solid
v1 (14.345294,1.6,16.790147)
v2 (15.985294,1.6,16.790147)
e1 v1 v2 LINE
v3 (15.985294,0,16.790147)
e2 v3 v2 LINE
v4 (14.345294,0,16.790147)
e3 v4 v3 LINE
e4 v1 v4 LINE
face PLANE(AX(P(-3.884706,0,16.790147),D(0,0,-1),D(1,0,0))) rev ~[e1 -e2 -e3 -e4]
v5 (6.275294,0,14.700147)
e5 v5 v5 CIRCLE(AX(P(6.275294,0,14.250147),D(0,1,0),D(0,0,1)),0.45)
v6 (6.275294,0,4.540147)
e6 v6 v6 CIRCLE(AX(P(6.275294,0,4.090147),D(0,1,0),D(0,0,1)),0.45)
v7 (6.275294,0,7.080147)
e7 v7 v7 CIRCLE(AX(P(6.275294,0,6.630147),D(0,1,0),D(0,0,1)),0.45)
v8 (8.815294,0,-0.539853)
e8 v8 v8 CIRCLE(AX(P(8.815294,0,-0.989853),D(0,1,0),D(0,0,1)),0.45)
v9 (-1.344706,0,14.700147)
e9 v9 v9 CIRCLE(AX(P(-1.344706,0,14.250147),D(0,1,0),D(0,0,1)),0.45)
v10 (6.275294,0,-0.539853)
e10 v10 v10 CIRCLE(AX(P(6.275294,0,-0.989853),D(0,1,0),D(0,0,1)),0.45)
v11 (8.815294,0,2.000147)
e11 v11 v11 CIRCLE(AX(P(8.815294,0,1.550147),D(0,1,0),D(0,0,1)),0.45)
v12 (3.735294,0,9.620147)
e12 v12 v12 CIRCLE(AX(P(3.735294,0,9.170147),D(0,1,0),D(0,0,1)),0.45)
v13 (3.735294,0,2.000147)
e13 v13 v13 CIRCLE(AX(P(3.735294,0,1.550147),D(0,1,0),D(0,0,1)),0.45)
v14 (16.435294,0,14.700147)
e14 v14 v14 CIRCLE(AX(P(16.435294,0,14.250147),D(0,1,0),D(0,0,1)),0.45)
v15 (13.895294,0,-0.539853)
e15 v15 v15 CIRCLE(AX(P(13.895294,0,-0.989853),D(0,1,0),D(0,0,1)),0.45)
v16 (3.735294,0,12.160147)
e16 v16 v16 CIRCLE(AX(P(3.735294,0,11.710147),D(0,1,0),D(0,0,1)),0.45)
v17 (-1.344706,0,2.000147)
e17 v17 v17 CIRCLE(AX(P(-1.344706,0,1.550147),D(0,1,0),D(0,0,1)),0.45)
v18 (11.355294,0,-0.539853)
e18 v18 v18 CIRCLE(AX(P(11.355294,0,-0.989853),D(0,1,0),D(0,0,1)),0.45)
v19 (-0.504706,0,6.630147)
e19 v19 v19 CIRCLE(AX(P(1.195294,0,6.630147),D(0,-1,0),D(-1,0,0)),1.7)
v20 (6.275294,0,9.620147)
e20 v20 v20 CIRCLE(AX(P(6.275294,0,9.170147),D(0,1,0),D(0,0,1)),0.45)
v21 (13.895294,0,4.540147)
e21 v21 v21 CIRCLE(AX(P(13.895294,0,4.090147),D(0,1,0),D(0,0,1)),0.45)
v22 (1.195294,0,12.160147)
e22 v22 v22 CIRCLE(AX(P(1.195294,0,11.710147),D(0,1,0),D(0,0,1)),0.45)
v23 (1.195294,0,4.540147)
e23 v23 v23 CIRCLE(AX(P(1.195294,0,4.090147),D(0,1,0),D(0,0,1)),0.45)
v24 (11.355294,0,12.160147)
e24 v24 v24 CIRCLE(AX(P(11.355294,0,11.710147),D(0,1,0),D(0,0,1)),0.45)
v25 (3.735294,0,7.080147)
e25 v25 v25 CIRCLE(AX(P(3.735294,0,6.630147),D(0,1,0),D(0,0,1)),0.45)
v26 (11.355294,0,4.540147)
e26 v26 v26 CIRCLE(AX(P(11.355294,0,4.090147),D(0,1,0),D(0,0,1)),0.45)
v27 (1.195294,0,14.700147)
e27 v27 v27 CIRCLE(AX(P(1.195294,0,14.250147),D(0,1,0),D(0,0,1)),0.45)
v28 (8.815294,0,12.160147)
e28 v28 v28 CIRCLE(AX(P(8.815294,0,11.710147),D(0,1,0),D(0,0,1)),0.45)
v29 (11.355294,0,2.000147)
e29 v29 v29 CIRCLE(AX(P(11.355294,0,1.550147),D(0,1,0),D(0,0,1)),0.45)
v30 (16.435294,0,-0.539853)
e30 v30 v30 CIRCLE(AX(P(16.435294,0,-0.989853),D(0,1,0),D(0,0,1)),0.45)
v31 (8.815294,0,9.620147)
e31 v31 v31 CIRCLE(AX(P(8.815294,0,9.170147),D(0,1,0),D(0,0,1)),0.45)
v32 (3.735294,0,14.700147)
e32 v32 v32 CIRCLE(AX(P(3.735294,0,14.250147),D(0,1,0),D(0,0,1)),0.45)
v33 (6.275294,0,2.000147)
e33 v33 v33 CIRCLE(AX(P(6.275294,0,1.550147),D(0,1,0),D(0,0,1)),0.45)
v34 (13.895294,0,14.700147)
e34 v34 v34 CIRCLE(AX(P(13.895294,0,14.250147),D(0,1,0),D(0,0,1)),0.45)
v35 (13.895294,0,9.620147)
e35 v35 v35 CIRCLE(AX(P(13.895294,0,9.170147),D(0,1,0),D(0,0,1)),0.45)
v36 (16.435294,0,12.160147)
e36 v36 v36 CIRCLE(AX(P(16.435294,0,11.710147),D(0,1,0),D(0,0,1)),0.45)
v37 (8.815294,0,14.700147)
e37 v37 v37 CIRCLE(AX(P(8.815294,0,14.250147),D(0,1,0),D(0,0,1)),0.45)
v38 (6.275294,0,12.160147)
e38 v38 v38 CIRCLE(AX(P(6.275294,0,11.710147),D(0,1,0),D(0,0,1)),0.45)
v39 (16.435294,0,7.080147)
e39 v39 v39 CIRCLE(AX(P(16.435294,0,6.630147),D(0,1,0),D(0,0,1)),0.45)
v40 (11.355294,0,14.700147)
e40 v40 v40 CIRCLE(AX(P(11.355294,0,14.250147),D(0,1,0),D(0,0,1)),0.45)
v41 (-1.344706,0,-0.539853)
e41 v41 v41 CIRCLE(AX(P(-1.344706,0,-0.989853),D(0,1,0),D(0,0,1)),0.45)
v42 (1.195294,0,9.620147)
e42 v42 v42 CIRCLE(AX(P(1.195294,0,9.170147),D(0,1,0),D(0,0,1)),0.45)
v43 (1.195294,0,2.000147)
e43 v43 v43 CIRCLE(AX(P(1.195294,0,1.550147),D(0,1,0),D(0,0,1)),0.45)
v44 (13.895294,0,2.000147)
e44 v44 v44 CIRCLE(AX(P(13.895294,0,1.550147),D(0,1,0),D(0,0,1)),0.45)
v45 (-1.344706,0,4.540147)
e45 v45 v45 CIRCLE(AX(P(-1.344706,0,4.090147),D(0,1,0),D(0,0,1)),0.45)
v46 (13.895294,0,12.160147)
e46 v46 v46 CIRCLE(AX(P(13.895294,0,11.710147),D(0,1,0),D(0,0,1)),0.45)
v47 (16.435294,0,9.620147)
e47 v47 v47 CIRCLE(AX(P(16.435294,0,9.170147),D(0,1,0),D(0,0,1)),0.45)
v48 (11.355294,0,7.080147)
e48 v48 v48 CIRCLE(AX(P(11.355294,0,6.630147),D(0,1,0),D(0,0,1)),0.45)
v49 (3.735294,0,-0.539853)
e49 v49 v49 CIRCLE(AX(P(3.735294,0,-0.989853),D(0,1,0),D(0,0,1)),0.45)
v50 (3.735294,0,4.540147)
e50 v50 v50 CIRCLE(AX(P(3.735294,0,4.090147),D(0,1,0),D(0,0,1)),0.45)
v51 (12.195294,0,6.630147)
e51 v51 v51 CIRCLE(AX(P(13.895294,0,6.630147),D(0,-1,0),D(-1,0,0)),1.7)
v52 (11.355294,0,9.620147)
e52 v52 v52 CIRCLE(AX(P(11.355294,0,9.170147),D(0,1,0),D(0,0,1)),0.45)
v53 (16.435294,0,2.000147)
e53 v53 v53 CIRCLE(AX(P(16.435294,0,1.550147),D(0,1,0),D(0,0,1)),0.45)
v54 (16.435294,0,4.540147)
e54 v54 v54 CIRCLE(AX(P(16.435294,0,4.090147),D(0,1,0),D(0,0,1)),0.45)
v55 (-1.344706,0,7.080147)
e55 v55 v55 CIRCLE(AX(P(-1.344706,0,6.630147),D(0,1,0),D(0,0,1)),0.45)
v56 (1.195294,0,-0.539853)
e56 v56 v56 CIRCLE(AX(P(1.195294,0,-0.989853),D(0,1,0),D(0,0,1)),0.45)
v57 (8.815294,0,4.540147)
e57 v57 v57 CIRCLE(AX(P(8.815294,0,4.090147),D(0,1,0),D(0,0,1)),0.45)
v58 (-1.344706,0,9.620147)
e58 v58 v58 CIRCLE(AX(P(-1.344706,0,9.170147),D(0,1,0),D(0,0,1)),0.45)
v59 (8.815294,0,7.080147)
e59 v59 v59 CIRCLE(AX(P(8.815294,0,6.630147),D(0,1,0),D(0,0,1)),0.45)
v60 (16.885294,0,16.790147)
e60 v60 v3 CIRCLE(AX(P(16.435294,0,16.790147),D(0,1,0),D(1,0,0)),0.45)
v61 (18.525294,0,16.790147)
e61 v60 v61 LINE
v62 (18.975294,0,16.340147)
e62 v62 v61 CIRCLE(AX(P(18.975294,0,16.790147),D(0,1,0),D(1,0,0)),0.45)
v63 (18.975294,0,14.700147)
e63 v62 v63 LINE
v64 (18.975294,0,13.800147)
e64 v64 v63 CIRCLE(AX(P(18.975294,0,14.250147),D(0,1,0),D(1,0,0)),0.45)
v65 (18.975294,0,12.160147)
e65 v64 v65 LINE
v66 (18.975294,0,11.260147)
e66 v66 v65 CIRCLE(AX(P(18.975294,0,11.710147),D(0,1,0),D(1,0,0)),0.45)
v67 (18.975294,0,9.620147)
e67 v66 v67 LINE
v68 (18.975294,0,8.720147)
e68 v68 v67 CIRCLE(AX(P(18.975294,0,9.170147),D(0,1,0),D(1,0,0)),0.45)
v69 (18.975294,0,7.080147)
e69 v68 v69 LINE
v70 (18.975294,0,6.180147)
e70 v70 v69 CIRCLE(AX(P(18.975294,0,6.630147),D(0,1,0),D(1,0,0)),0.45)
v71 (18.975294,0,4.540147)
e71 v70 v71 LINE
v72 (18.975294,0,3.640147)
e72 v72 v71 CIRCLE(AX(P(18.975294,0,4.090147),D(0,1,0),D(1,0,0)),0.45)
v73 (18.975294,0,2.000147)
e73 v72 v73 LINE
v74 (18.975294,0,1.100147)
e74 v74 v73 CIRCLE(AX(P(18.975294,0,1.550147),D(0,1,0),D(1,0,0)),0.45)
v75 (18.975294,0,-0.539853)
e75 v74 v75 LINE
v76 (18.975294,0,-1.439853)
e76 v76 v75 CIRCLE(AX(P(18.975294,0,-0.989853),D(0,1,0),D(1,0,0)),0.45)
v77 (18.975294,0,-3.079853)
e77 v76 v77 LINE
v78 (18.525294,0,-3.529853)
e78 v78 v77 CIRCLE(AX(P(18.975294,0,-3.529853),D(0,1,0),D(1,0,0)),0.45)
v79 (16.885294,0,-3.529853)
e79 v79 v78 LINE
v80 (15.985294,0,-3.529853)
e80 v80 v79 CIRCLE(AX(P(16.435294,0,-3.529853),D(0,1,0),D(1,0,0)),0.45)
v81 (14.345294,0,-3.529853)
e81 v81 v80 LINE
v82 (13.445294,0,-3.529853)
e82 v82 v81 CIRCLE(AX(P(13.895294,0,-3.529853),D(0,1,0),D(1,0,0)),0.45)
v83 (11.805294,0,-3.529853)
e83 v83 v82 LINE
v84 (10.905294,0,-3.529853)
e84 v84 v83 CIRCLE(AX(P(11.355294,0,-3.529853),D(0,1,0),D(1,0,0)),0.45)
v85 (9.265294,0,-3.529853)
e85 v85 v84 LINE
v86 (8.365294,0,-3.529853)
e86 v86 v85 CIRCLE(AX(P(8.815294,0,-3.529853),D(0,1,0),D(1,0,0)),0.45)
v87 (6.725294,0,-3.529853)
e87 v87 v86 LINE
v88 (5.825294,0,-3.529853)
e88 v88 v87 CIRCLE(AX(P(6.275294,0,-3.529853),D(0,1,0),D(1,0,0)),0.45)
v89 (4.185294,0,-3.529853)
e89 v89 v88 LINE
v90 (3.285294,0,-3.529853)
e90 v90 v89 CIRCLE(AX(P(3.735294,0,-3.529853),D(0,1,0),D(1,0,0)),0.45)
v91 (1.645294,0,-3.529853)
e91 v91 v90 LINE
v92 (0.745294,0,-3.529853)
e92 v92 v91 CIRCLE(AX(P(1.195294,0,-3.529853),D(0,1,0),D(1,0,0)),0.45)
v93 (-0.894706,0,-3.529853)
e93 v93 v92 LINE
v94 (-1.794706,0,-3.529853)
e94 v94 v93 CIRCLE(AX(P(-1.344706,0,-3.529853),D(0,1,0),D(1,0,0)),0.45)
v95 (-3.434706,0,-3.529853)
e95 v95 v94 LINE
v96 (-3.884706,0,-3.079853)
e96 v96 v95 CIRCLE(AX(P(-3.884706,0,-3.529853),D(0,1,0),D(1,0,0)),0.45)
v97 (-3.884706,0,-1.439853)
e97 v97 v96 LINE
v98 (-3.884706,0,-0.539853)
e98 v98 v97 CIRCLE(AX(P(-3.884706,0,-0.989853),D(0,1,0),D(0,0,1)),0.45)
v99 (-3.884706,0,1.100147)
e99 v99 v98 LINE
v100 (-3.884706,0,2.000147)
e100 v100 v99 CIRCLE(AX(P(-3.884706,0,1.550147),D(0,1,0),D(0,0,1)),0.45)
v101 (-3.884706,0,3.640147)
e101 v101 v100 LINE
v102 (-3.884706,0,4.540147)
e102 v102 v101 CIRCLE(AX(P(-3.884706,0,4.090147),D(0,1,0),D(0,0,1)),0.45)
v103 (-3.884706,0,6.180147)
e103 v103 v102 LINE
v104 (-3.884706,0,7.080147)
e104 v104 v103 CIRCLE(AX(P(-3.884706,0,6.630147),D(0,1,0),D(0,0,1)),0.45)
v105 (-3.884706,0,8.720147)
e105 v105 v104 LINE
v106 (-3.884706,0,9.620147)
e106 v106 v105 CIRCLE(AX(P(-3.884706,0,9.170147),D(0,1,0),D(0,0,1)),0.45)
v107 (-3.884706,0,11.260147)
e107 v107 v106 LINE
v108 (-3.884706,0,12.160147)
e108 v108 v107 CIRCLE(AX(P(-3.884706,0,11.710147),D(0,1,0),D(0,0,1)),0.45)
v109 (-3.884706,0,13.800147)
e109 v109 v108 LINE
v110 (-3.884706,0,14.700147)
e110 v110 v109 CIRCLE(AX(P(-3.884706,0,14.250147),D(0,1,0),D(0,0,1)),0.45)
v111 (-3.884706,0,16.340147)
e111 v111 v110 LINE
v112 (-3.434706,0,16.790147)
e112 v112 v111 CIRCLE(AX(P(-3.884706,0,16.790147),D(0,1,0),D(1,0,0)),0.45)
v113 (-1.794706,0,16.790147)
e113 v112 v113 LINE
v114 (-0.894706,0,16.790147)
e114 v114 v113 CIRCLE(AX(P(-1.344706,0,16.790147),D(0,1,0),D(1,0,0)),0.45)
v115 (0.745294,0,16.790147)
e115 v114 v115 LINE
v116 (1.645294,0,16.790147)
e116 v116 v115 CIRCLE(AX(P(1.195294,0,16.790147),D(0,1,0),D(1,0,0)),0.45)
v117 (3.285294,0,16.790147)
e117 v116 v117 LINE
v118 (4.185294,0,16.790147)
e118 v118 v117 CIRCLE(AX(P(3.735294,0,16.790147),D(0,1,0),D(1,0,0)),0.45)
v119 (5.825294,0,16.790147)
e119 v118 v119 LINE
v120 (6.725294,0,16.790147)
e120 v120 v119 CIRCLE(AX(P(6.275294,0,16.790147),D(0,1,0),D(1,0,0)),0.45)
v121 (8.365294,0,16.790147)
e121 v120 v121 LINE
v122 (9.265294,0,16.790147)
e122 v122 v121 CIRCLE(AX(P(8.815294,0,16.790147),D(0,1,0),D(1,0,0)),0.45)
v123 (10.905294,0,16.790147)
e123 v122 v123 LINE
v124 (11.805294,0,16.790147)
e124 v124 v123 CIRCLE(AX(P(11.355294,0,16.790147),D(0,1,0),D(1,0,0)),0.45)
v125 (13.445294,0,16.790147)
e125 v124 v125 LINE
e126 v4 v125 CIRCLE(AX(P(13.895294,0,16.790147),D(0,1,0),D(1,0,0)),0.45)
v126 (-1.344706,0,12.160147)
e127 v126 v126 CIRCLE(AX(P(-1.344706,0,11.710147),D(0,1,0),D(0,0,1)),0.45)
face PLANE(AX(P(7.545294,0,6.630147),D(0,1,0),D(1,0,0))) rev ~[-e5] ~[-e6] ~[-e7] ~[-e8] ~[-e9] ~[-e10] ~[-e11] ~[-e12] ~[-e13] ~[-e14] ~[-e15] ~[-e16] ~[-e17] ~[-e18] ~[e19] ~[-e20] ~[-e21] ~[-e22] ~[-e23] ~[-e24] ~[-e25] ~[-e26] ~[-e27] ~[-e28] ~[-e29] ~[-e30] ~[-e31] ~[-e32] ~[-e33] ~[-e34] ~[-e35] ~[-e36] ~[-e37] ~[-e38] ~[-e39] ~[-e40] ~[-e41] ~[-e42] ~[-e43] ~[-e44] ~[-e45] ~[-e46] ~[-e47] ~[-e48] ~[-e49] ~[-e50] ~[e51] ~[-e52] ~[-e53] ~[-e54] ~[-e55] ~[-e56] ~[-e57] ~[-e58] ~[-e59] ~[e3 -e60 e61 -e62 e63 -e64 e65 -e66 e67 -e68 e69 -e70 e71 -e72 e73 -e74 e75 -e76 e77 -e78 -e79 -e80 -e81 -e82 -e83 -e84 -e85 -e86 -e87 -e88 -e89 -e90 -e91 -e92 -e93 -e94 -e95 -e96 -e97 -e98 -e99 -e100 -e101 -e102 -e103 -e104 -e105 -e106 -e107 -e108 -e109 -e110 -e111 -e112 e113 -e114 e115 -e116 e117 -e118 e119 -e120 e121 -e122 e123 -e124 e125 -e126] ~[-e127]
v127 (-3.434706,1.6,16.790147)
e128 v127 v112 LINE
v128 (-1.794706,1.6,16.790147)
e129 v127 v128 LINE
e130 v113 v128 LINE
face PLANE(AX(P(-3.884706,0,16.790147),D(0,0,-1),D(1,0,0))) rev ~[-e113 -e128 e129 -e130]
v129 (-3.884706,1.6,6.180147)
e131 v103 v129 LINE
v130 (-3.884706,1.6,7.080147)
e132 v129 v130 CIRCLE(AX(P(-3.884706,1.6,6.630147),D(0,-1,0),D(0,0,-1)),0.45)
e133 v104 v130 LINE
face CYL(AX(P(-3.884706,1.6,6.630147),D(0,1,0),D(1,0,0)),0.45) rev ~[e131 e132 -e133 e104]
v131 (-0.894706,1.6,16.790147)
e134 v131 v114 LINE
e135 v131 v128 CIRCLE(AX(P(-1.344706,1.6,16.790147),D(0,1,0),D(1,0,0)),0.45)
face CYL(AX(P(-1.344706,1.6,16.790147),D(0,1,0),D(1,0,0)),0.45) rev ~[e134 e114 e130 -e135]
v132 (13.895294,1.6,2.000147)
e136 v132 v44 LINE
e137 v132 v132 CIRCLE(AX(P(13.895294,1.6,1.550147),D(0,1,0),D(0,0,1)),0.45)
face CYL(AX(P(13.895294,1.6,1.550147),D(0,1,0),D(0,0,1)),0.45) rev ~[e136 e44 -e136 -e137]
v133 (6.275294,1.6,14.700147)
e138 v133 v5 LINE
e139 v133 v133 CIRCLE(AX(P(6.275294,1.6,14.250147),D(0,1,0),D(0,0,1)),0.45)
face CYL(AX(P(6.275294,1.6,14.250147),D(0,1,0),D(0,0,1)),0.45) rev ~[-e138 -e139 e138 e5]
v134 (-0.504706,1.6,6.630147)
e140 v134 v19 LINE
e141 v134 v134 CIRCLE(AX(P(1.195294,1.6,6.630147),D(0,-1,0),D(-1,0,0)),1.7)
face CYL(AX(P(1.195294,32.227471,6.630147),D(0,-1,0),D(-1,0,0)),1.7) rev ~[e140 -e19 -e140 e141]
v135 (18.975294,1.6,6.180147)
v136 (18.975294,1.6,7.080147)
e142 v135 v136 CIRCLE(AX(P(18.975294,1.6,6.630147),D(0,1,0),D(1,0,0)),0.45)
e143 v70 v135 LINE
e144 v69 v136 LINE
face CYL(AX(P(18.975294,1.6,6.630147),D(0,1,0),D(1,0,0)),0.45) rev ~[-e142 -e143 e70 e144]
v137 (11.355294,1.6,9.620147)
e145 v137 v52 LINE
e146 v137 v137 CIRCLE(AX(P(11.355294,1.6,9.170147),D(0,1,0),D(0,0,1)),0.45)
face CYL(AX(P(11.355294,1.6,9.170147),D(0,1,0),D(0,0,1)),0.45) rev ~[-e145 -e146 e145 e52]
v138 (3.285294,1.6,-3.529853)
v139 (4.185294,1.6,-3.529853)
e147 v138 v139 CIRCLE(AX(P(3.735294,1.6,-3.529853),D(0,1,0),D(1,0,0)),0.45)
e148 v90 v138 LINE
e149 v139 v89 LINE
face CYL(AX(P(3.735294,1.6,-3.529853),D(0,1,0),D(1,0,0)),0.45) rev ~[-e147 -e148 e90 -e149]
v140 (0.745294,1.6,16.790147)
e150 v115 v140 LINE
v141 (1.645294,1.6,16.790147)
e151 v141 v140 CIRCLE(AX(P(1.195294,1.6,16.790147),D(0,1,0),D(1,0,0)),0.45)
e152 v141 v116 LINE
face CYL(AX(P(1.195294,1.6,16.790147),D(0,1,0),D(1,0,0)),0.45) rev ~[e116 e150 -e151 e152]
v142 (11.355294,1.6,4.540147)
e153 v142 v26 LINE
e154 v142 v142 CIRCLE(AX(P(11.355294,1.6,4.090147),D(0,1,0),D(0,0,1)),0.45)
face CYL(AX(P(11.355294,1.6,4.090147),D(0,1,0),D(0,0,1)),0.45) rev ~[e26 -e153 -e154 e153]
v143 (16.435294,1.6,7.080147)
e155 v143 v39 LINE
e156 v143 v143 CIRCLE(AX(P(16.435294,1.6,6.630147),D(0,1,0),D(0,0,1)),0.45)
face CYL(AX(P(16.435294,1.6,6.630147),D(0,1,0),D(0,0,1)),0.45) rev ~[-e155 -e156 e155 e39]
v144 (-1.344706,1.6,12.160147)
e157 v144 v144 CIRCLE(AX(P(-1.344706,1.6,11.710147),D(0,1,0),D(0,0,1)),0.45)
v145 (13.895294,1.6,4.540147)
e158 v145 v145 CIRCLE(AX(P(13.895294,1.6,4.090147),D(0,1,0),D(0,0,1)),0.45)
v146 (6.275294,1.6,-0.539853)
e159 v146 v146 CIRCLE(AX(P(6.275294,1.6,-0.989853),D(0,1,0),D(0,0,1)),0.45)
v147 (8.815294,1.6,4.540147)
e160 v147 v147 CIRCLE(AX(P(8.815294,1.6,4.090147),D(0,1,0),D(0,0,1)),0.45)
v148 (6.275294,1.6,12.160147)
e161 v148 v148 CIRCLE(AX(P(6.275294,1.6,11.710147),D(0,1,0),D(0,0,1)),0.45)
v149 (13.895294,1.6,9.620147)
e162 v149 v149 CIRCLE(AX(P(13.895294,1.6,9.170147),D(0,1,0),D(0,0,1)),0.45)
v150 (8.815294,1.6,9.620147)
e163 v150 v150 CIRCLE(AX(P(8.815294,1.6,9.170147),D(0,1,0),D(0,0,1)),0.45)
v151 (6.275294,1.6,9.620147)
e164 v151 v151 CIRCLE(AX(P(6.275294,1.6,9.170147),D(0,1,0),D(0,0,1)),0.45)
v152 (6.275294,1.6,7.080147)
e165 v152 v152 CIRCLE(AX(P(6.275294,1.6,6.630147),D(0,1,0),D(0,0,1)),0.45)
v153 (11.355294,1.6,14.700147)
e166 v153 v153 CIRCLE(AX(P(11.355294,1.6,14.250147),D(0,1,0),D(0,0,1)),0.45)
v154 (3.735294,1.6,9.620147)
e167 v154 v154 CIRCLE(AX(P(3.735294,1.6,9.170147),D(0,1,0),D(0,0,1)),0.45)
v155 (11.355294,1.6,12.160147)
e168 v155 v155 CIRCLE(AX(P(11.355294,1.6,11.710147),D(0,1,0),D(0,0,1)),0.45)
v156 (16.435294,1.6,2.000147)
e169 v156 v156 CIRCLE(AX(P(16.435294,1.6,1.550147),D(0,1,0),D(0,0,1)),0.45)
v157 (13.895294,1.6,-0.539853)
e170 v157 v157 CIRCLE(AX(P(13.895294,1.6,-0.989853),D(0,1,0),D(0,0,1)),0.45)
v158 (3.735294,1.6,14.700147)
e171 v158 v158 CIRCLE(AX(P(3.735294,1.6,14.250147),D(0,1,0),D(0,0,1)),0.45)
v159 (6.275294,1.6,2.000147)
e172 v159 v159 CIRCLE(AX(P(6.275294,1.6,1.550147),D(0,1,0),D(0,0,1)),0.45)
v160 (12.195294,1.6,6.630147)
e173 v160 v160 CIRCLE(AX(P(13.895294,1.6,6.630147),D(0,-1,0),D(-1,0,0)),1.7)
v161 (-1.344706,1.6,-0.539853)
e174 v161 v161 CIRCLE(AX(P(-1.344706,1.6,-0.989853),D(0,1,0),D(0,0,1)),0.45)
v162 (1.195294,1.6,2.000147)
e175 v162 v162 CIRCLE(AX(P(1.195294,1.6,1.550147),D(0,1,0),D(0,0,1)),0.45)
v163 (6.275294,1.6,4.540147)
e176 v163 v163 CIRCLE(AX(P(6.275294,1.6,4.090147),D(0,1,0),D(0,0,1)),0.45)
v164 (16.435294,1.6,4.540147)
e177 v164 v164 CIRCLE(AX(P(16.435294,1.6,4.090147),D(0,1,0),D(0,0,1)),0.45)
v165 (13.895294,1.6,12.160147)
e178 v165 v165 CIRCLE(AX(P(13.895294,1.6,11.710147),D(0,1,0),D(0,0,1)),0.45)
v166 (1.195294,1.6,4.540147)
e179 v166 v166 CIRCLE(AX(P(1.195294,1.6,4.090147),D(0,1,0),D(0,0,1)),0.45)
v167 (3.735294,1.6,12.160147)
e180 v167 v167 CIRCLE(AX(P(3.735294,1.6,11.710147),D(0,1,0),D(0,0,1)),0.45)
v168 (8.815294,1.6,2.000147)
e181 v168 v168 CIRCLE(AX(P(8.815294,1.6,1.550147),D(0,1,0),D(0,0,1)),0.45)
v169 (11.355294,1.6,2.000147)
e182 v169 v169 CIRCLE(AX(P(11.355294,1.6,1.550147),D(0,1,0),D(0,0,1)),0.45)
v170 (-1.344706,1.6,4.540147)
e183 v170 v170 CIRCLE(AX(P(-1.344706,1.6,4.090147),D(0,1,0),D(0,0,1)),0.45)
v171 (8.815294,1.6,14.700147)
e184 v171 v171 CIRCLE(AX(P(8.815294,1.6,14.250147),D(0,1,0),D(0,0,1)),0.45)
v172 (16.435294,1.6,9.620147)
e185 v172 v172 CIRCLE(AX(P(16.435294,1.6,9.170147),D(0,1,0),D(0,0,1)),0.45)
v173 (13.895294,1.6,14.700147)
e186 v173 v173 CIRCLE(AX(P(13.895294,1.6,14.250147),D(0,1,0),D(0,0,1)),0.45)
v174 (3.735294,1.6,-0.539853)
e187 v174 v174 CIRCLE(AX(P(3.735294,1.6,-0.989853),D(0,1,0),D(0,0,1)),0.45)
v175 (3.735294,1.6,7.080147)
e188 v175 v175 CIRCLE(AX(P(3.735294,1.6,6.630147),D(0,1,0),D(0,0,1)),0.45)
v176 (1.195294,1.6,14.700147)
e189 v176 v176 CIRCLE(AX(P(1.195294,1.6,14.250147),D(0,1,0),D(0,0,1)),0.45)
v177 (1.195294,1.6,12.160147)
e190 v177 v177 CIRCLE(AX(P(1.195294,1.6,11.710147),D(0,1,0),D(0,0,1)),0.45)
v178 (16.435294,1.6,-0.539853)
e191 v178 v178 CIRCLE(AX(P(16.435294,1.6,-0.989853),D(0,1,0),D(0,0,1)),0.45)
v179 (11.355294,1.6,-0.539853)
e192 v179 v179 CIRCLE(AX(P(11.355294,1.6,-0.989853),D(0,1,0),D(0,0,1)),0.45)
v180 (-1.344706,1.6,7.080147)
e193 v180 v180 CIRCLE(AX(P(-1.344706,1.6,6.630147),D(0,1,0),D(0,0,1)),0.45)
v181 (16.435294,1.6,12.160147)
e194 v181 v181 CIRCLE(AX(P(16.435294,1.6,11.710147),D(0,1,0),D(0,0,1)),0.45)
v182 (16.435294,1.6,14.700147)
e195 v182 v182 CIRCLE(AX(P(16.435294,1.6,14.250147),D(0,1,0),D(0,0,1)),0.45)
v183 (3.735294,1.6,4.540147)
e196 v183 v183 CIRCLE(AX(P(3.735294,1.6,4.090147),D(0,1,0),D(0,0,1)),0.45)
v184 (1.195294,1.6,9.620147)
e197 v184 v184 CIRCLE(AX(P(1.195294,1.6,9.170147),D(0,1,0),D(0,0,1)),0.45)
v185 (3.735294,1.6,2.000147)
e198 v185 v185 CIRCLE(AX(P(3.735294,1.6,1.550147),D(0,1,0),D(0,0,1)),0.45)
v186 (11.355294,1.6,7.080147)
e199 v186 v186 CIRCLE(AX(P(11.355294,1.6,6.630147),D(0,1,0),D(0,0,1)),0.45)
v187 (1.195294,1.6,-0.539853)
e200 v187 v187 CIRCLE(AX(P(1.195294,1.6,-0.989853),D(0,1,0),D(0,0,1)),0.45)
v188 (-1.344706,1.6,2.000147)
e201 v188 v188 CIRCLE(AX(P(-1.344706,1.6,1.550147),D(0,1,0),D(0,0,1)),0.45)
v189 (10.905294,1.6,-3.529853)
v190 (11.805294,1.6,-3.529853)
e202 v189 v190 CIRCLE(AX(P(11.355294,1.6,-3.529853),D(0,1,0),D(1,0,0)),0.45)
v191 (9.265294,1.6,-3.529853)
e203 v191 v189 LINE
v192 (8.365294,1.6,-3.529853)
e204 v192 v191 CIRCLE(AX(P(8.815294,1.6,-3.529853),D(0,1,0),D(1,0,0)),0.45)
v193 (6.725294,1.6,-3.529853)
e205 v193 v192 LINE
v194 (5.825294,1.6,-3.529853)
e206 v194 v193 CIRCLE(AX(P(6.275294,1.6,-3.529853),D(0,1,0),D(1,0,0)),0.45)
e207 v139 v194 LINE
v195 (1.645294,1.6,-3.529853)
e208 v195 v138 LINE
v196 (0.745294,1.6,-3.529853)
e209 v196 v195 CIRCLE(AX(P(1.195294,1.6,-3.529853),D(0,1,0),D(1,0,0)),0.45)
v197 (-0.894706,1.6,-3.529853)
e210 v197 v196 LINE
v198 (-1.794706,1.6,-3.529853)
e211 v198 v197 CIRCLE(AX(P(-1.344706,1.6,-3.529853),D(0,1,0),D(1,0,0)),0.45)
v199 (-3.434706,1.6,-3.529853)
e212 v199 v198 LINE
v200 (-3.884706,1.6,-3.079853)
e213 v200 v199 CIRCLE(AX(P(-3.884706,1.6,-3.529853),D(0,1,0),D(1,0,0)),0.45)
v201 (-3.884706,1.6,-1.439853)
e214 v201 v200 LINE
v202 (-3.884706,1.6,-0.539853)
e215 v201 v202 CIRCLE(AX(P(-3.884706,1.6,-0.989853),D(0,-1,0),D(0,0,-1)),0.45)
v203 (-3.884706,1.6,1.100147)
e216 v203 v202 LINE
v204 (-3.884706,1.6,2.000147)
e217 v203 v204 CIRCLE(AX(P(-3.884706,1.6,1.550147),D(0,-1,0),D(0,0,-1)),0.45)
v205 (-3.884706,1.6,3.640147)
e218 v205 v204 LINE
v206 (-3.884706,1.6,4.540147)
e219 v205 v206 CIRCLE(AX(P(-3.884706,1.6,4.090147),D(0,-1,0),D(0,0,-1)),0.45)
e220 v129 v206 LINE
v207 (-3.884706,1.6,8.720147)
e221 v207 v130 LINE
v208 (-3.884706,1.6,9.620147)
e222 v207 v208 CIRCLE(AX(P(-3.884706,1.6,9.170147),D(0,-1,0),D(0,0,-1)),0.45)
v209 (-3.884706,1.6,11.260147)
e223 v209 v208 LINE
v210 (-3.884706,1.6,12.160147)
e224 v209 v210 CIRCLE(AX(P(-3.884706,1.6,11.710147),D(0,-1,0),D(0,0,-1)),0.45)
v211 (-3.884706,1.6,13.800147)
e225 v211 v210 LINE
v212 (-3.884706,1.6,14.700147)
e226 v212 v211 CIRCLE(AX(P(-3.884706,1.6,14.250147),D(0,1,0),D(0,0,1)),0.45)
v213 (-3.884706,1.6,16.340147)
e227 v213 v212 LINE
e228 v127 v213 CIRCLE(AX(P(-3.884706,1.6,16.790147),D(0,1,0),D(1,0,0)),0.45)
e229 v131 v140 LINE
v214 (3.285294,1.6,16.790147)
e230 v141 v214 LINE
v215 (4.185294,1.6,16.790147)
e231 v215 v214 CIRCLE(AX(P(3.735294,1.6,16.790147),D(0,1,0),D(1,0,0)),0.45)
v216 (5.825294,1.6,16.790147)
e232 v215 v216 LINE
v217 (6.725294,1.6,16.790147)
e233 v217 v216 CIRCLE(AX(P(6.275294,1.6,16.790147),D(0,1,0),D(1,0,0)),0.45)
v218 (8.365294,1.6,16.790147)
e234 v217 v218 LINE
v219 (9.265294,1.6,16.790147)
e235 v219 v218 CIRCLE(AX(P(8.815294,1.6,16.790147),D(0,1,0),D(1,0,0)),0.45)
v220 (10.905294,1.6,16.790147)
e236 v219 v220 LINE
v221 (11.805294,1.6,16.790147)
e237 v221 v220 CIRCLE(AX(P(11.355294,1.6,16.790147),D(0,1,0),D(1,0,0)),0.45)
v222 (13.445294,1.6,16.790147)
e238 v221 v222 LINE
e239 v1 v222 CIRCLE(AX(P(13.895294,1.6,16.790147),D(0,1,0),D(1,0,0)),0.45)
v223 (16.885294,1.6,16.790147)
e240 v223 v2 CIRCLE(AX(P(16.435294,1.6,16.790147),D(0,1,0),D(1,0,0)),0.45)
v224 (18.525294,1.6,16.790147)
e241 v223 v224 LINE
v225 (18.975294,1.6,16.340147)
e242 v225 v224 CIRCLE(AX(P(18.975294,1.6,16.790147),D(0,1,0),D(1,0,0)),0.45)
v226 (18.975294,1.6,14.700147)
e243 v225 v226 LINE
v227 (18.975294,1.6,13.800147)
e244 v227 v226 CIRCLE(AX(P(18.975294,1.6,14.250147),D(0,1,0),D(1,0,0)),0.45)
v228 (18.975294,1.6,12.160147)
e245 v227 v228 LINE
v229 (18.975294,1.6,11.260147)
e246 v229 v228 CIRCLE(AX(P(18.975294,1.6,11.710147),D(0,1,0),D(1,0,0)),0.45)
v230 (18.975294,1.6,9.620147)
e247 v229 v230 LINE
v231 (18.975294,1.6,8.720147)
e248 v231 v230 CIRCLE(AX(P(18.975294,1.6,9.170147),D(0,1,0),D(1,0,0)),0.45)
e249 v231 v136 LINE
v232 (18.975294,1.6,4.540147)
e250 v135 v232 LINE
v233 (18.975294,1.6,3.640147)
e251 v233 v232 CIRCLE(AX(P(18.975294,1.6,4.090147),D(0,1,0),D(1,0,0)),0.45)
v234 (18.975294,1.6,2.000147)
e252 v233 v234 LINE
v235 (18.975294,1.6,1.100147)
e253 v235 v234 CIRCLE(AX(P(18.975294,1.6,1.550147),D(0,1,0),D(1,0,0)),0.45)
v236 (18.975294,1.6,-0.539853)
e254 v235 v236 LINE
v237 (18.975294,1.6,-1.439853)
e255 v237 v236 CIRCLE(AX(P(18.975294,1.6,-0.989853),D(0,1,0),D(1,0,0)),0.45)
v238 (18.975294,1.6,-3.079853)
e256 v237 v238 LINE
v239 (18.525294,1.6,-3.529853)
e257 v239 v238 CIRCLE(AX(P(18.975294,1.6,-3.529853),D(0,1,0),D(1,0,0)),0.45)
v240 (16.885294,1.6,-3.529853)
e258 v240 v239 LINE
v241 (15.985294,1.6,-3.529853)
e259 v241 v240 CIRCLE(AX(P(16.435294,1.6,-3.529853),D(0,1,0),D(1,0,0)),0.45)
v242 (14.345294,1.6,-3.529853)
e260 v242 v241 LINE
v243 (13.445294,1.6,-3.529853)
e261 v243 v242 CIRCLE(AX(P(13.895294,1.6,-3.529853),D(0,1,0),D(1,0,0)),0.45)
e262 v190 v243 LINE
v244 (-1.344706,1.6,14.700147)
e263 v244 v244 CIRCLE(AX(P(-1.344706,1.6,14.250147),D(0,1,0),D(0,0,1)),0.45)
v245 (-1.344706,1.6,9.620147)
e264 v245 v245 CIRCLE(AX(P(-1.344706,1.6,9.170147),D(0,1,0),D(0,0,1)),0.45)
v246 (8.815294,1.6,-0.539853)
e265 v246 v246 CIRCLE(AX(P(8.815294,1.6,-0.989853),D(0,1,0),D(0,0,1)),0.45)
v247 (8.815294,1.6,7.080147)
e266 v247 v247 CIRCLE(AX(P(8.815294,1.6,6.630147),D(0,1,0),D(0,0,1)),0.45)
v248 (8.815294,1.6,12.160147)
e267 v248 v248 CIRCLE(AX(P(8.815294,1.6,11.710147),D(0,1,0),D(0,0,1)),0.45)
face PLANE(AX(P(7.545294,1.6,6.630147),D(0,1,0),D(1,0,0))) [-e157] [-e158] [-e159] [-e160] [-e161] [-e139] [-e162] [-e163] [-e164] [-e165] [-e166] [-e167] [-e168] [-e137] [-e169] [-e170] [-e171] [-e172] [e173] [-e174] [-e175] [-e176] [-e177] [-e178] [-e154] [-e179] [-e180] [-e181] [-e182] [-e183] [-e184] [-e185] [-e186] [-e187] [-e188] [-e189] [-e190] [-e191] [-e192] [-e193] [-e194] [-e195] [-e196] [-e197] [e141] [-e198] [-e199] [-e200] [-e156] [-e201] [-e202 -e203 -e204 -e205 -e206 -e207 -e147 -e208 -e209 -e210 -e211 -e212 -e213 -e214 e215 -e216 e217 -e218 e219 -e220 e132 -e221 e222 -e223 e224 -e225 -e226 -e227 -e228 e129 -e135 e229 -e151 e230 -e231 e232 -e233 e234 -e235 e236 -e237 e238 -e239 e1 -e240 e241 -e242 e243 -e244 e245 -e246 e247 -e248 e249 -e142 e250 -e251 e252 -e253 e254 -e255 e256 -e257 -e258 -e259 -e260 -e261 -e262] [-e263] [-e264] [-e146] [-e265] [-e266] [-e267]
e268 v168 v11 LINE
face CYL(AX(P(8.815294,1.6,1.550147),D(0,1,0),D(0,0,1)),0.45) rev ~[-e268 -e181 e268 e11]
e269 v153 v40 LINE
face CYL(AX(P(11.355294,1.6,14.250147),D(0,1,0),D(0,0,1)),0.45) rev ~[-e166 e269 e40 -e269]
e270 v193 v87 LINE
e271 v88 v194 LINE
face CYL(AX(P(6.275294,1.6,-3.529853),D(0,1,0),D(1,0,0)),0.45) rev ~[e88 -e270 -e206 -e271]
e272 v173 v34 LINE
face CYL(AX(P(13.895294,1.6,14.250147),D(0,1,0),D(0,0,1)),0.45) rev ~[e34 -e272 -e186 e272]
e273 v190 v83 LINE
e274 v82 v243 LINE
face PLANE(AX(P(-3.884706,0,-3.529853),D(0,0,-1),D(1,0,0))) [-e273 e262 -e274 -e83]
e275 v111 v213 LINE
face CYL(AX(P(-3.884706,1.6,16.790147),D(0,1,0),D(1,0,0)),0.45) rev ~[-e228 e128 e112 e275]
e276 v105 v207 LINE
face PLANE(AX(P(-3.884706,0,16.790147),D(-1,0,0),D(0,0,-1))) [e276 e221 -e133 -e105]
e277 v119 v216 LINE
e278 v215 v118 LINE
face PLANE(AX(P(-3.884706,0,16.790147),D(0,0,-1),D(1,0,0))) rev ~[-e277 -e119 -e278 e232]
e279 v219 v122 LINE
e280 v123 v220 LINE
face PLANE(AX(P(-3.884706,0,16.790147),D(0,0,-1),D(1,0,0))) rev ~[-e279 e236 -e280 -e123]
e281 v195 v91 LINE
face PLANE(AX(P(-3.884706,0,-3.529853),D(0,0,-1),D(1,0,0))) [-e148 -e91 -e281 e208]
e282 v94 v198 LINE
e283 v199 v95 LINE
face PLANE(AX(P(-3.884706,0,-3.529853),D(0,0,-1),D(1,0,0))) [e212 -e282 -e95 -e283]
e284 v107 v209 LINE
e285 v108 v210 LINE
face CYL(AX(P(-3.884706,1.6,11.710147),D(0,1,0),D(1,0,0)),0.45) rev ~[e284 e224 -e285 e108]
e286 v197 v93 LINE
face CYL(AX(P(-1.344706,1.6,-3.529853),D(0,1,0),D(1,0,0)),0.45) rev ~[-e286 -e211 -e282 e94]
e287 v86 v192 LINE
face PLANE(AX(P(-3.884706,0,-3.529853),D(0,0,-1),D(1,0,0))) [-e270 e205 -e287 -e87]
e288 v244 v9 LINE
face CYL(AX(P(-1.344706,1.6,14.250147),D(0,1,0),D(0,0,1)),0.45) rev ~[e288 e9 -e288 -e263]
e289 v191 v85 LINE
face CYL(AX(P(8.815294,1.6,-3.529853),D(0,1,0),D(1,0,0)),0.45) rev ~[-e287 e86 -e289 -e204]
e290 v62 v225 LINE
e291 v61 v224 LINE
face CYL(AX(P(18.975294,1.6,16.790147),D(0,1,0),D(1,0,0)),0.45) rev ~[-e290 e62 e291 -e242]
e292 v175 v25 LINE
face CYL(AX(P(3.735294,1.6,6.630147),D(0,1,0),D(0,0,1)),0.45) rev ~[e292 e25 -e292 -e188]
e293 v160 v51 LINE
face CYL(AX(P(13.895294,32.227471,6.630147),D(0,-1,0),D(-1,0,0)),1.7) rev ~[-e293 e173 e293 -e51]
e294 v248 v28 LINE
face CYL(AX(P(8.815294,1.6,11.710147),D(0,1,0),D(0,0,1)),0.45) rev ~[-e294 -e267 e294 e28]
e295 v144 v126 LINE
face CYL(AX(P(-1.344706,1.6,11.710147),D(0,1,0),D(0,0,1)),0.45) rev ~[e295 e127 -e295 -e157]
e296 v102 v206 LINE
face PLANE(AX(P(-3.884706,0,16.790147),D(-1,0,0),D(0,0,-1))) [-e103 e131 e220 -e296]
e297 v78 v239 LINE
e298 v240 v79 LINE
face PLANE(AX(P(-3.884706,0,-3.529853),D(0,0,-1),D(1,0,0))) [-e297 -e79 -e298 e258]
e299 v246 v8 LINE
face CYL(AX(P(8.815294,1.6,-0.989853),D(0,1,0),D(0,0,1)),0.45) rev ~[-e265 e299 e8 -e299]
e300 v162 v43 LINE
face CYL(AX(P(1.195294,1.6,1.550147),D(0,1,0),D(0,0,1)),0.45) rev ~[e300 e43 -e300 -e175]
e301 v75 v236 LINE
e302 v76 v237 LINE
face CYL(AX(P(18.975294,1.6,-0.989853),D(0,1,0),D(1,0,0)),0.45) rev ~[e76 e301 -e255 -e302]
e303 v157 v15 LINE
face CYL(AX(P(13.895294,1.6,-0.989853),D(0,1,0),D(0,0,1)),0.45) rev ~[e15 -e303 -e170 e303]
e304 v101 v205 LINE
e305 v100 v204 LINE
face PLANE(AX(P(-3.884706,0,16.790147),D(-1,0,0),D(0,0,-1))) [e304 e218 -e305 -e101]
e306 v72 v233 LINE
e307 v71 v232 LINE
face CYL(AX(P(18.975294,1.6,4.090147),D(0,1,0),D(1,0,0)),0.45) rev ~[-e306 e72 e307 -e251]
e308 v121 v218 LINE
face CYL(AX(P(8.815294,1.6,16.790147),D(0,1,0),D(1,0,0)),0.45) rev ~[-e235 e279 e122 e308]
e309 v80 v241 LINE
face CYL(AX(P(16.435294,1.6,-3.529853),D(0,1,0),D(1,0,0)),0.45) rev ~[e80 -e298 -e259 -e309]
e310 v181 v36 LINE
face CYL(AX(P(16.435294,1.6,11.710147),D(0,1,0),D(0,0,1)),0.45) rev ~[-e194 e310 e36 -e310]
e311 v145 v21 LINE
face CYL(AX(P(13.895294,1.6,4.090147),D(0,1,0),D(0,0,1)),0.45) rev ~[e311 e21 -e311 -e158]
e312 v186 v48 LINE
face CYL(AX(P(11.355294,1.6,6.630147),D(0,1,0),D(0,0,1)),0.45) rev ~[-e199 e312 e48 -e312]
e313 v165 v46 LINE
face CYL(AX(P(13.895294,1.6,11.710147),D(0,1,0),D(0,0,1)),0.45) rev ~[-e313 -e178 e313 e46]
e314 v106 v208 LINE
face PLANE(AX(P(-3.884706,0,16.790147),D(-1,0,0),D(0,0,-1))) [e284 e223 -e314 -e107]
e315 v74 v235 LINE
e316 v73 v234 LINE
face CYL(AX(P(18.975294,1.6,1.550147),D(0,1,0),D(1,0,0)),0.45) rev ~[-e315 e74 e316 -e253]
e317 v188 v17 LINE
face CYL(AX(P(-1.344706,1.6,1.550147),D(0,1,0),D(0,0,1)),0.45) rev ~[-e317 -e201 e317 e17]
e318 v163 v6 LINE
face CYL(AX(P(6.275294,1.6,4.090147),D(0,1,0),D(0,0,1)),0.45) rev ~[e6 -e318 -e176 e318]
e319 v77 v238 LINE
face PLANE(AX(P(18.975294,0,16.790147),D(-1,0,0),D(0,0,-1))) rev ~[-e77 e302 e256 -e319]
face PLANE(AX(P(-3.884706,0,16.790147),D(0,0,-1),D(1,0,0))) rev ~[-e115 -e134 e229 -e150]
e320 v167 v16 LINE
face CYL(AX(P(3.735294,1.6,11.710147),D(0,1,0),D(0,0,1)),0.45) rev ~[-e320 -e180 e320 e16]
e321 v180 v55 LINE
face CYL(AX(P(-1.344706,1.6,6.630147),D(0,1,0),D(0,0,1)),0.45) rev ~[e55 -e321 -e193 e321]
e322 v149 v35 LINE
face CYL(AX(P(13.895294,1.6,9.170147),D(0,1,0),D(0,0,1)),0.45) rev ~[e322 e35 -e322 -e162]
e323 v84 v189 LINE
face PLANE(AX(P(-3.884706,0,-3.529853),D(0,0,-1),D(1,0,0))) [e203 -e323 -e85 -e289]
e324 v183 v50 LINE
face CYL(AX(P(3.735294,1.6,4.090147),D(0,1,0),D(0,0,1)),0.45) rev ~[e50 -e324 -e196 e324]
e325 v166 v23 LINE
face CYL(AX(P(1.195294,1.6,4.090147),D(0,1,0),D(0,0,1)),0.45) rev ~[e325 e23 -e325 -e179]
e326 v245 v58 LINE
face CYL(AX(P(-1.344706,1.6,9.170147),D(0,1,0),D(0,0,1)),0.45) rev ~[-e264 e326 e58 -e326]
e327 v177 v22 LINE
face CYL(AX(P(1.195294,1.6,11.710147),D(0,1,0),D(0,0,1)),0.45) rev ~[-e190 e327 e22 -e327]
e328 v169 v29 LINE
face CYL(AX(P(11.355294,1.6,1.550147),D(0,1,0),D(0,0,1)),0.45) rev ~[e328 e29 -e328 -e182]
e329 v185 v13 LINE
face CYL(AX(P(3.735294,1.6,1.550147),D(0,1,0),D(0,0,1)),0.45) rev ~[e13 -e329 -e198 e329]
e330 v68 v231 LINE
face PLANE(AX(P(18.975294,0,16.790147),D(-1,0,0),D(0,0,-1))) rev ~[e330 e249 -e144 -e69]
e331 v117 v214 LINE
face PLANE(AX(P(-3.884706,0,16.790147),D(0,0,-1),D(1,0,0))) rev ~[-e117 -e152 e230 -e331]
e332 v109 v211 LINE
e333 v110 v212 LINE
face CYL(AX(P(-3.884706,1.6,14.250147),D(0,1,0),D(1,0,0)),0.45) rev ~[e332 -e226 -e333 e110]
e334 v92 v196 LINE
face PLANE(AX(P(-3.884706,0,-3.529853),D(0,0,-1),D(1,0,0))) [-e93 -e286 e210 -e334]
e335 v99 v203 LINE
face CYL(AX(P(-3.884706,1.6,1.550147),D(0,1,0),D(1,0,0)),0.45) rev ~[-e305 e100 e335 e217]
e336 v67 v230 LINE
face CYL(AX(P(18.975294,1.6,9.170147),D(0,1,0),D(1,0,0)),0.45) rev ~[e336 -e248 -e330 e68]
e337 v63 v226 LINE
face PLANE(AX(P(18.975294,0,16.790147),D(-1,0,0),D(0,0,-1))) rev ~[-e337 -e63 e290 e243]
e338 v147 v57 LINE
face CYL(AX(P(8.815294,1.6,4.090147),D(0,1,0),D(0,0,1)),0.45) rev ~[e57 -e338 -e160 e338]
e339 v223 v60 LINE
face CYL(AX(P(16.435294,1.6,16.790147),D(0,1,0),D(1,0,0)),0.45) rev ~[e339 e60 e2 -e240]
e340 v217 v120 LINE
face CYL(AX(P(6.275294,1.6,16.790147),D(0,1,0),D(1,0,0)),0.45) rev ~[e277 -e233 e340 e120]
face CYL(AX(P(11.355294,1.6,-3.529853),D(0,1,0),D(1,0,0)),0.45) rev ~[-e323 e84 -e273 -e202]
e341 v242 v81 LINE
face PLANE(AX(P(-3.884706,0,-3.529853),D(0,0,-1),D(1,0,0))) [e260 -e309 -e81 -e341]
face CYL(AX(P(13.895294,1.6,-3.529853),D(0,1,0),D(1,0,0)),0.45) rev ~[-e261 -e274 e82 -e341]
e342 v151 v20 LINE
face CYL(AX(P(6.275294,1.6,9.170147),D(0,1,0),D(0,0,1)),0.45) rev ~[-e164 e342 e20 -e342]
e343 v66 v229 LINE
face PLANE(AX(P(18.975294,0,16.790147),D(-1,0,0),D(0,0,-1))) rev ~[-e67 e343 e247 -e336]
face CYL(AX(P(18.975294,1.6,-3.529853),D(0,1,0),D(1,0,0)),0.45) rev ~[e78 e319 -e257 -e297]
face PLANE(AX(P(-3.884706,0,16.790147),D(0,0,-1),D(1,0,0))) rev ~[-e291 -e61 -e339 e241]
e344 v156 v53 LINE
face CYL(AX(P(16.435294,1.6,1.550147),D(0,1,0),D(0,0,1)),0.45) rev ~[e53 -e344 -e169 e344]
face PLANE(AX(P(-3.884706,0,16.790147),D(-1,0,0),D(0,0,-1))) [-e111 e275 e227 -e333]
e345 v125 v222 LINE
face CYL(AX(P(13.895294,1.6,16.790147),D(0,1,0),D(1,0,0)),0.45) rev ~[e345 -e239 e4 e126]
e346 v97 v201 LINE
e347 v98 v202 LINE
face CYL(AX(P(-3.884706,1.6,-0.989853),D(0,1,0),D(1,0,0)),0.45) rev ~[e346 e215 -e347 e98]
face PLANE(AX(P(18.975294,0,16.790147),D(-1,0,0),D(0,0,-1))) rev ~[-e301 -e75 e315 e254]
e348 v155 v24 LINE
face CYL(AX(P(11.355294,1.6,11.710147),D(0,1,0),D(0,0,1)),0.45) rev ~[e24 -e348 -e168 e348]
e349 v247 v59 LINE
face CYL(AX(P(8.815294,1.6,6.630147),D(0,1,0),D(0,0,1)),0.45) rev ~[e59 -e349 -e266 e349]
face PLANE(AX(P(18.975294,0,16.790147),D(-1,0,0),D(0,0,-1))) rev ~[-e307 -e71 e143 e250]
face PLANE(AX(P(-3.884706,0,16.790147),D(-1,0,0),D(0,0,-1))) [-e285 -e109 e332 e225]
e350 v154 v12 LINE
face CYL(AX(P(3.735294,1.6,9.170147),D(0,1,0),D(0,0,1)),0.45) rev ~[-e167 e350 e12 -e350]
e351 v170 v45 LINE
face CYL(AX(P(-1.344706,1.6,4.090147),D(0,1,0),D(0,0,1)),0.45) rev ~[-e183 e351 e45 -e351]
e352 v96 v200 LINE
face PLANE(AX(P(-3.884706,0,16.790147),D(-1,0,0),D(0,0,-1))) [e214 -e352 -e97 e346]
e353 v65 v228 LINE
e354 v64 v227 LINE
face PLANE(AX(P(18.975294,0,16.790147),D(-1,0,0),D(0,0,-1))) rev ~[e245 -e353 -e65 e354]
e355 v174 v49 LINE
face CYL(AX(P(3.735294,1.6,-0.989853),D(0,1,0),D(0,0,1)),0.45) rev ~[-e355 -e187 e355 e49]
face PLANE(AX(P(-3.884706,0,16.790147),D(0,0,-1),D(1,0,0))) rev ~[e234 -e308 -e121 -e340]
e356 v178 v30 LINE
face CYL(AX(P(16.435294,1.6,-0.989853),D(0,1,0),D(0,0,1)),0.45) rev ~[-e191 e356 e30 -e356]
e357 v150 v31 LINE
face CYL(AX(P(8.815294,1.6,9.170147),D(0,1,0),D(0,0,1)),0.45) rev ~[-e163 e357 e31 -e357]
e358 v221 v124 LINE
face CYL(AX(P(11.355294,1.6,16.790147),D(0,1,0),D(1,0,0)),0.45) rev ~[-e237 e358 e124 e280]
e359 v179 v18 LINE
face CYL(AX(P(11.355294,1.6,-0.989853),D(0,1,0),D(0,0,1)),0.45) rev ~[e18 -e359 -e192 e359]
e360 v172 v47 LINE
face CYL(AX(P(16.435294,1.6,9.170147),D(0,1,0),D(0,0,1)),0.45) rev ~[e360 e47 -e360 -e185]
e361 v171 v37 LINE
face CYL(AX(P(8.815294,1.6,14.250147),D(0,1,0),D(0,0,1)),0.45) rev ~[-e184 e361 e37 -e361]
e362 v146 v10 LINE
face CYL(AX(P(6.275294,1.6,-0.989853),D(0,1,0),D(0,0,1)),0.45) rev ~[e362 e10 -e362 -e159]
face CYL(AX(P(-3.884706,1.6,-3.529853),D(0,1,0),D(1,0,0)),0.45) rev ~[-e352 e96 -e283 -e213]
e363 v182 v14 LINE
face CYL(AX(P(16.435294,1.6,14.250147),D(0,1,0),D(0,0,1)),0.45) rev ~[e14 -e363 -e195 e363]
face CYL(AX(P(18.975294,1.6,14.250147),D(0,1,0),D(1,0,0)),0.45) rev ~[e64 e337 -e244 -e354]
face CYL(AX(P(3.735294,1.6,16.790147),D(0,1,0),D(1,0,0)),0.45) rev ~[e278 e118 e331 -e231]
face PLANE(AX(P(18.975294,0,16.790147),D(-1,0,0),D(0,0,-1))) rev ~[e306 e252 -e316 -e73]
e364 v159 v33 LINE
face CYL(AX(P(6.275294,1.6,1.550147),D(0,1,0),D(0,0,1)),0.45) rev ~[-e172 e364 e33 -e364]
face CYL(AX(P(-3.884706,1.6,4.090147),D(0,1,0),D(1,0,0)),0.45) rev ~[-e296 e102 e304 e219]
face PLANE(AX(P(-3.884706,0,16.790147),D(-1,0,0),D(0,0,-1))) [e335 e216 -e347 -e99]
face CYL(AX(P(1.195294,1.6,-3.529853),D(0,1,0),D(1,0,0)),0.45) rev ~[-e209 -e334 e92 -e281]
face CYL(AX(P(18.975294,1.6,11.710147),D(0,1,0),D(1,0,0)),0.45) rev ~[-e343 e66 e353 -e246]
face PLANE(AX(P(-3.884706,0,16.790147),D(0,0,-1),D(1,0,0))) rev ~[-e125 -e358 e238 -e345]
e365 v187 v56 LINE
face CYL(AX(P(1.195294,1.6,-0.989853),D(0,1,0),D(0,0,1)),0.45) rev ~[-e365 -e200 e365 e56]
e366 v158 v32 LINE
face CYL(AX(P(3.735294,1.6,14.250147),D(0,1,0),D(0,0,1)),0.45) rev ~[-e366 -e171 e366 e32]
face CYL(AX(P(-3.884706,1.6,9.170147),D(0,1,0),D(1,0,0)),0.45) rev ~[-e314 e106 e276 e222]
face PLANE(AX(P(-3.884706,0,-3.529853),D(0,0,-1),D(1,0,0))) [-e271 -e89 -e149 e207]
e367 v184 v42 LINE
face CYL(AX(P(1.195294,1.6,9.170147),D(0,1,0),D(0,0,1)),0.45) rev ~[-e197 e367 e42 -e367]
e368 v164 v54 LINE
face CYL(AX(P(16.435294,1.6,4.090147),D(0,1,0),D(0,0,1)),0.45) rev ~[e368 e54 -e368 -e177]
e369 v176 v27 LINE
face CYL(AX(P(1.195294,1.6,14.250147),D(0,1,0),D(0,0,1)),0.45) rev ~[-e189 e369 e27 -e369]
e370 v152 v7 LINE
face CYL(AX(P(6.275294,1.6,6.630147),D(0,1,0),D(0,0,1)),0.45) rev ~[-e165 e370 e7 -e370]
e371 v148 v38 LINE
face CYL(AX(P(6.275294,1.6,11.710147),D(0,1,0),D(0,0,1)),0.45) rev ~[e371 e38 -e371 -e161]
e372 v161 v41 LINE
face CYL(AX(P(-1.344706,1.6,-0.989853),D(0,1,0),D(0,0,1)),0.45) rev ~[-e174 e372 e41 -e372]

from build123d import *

# Parameters (mm, degrees)
ESQUISSE1_W             = 22.86
ESQUISSE1_H             = 20.32
BOSS_EXTRU_1_DEPTH      = 1.6
ESQUISSE2_R             = 0.45
ENL_V_MAT_EXTRU_1_DEPTH = 26.387611646
D_GAGEMENT_M31_D        = 3.4


with BuildPart() as part:
    # Esquisse1 → Boss.-Extru.1 (new body)
    with BuildSketch(Plane(origin=(0, 0, 0), x_dir=(1, 0, 0), z_dir=(0, 1, 0))):
        with Locations((7.545294118, -6.630147059)):
            Rectangle(ESQUISSE1_W, ESQUISSE1_H)
    extrude(amount=BOSS_EXTRU_1_DEPTH)

    # Esquisse2 → Enlèv. mat.-Extru.1 (cut, through all)
    with BuildSketch(Plane(origin=(0, 1.6, 0), x_dir=(1, 0, 0), z_dir=(0, 1, 0))):
        with Locations((-3.884705882, 3.529852941)):
            Circle(ESQUISSE2_R)
        with Locations((-1.344705882, 3.529852941)):
            Circle(ESQUISSE2_R)
        with Locations((1.195294118, 3.529852941)):
            Circle(ESQUISSE2_R)
        with Locations((3.735294118, 3.529852941)):
            Circle(ESQUISSE2_R)
        with Locations(Location((-1.344705882, 0.989852941, 0), (0, 0, 270))):
            Circle(ESQUISSE2_R)
        with Locations(Location((1.195294118, 0.989852941, 0), (0, 0, 270))):
            Circle(ESQUISSE2_R)
        with Locations(Location((3.735294118, 0.989852941, 0), (0, 0, 270))):
            Circle(ESQUISSE2_R)
        with Locations(Location((-1.344705882, -1.550147059, 0), (0, 0, 270))):
            Circle(ESQUISSE2_R)
        with Locations(Location((1.195294118, -1.550147059, 0), (0, 0, 270))):
            Circle(ESQUISSE2_R)
        with Locations(Location((3.735294118, -1.550147059, 0), (0, 0, 270))):
            Circle(ESQUISSE2_R)
        with Locations(Location((-1.344705882, -4.090147059, 0), (0, 0, 270))):
            Circle(ESQUISSE2_R)
        with Locations(Location((1.195294118, -4.090147059, 0), (0, 0, 270))):
            Circle(ESQUISSE2_R)
        with Locations(Location((3.735294118, -4.090147059, 0), (0, 0, 270))):
            Circle(ESQUISSE2_R)
        with Locations(Location((-1.344705882, -6.630147059, 0), (0, 0, 270))):
            Circle(ESQUISSE2_R)
        with Locations(Location((1.195294118, -6.630147059, 0), (0, 0, 270))):
            Circle(ESQUISSE2_R)
        with Locations(Location((3.735294118, -6.630147059, 0), (0, 0, 270))):
            Circle(ESQUISSE2_R)
        with Locations(Location((-1.344705882, -9.170147059, 0), (0, 0, 270))):
            Circle(ESQUISSE2_R)
        with Locations(Location((1.195294118, -9.170147059, 0), (0, 0, 270))):
            Circle(ESQUISSE2_R)
        with Locations(Location((3.735294118, -9.170147059, 0), (0, 0, 270))):
            Circle(ESQUISSE2_R)
        with Locations(Location((-1.344705882, -11.710147059, 0), (0, 0, 270))):
            Circle(ESQUISSE2_R)
        with Locations(Location((1.195294118, -11.710147059, 0), (0, 0, 270))):
            Circle(ESQUISSE2_R)
        with Locations(Location((3.735294118, -11.710147059, 0), (0, 0, 270))):
            Circle(ESQUISSE2_R)
        with Locations(Location((-1.344705882, -14.250147059, 0), (0, 0, 270))):
            Circle(ESQUISSE2_R)
        with Locations(Location((1.195294118, -14.250147059, 0), (0, 0, 270))):
            Circle(ESQUISSE2_R)
        with Locations(Location((3.735294118, -14.250147059, 0), (0, 0, 270))):
            Circle(ESQUISSE2_R)
        with Locations((-3.884705882, 0.989852941)):
            Circle(ESQUISSE2_R)
        with Locations((-3.884705882, -1.550147059)):
            Circle(ESQUISSE2_R)
        with Locations((-3.884705882, -4.090147059)):
            Circle(ESQUISSE2_R)
        with Locations((-3.884705882, -6.630147059)):
            Circle(ESQUISSE2_R)
        with Locations((-3.884705882, -9.170147059)):
            Circle(ESQUISSE2_R)
        with Locations((-3.884705882, -11.710147059)):
            Circle(ESQUISSE2_R)
        with Locations((-3.884705882, -14.250147059)):
            Circle(ESQUISSE2_R)
        with Locations((6.275294118, 3.529852941)):
            Circle(ESQUISSE2_R)
        with Locations(Location((6.275294118, 0.989852941, 0), (0, 0, 270))):
            Circle(ESQUISSE2_R)
        with Locations(Location((6.275294118, -1.550147059, 0), (0, 0, 270))):
            Circle(ESQUISSE2_R)
        with Locations(Location((6.275294118, -4.090147059, 0), (0, 0, 270))):
            Circle(ESQUISSE2_R)
        with Locations(Location((6.275294118, -6.630147059, 0), (0, 0, 270))):
            Circle(ESQUISSE2_R)
        with Locations(Location((6.275294118, -9.170147059, 0), (0, 0, 270))):
            Circle(ESQUISSE2_R)
        with Locations(Location((6.275294118, -11.710147059, 0), (0, 0, 270))):
            Circle(ESQUISSE2_R)
        with Locations(Location((6.275294118, -14.250147059, 0), (0, 0, 270))):
            Circle(ESQUISSE2_R)
        with Locations((-3.884705882, -16.790147059)):
            Circle(ESQUISSE2_R)
        with Locations((-1.344705882, -16.790147059)):
            Circle(ESQUISSE2_R)
        with Locations((1.195294118, -16.790147059)):
            Circle(ESQUISSE2_R)
        with Locations((3.735294118, -16.790147059)):
            Circle(ESQUISSE2_R)
        with Locations((6.275294118, -16.790147059)):
            Circle(ESQUISSE2_R)
        with Locations((8.815294118, 3.529852941)):
            Circle(ESQUISSE2_R)
        with Locations((11.355294118, 3.529852941)):
            Circle(ESQUISSE2_R)
        with Locations((13.895294118, 3.529852941)):
            Circle(ESQUISSE2_R)
        with Locations((16.435294118, 3.529852941)):
            Circle(ESQUISSE2_R)
        with Locations((18.975294118, 3.529852941)):
            Circle(ESQUISSE2_R)
        with Locations(Location((8.815294118, 0.989852941, 0), (0, 0, 270))):
            Circle(ESQUISSE2_R)
        with Locations(Location((11.355294118, 0.989852941, 0), (0, 0, 270))):
            Circle(ESQUISSE2_R)
        with Locations(Location((13.895294118, 0.989852941, 0), (0, 0, 270))):
            Circle(ESQUISSE2_R)
        with Locations(Location((16.435294118, 0.989852941, 0), (0, 0, 270))):
            Circle(ESQUISSE2_R)
        with Locations((18.975294118, 0.989852941)):
            Circle(ESQUISSE2_R)
        with Locations(Location((8.815294118, -1.550147059, 0), (0, 0, 270))):
            Circle(ESQUISSE2_R)
        with Locations(Location((11.355294118, -1.550147059, 0), (0, 0, 270))):
            Circle(ESQUISSE2_R)
        with Locations(Location((13.895294118, -1.550147059, 0), (0, 0, 270))):
            Circle(ESQUISSE2_R)
        with Locations(Location((16.435294118, -1.550147059, 0), (0, 0, 270))):
            Circle(ESQUISSE2_R)
        with Locations((18.975294118, -1.550147059)):
            Circle(ESQUISSE2_R)
        with Locations(Location((8.815294118, -4.090147059, 0), (0, 0, 270))):
            Circle(ESQUISSE2_R)
        with Locations(Location((11.355294118, -4.090147059, 0), (0, 0, 270))):
            Circle(ESQUISSE2_R)
        with Locations(Location((13.895294118, -4.090147059, 0), (0, 0, 270))):
            Circle(ESQUISSE2_R)
        with Locations(Location((16.435294118, -4.090147059, 0), (0, 0, 270))):
            Circle(ESQUISSE2_R)
        with Locations((18.975294118, -4.090147059)):
            Circle(ESQUISSE2_R)
        with Locations(Location((8.815294118, -6.630147059, 0), (0, 0, 270))):
            Circle(ESQUISSE2_R)
        with Locations(Location((11.355294118, -6.630147059, 0), (0, 0, 270))):
            Circle(ESQUISSE2_R)
        with Locations(Location((13.895294118, -6.630147059, 0), (0, 0, 270))):
            Circle(ESQUISSE2_R)
        with Locations(Location((16.435294118, -6.630147059, 0), (0, 0, 270))):
            Circle(ESQUISSE2_R)
        with Locations((18.975294118, -6.630147059)):
            Circle(ESQUISSE2_R)
        with Locations(Location((8.815294118, -9.170147059, 0), (0, 0, 270))):
            Circle(ESQUISSE2_R)
        with Locations(Location((11.355294118, -9.170147059, 0), (0, 0, 270))):
            Circle(ESQUISSE2_R)
        with Locations(Location((13.895294118, -9.170147059, 0), (0, 0, 270))):
            Circle(ESQUISSE2_R)
        with Locations(Location((16.435294118, -9.170147059, 0), (0, 0, 270))):
            Circle(ESQUISSE2_R)
        with Locations((18.975294118, -9.170147059)):
            Circle(ESQUISSE2_R)
        with Locations(Location((8.815294118, -11.710147059, 0), (0, 0, 270))):
            Circle(ESQUISSE2_R)
        with Locations(Location((11.355294118, -11.710147059, 0), (0, 0, 270))):
            Circle(ESQUISSE2_R)
        with Locations(Location((13.895294118, -11.710147059, 0), (0, 0, 270))):
            Circle(ESQUISSE2_R)
        with Locations(Location((16.435294118, -11.710147059, 0), (0, 0, 270))):
            Circle(ESQUISSE2_R)
        with Locations((18.975294118, -11.710147059)):
            Circle(ESQUISSE2_R)
        with Locations(Location((8.815294118, -14.250147059, 0), (0, 0, 270))):
            Circle(ESQUISSE2_R)
        with Locations(Location((11.355294118, -14.250147059, 0), (0, 0, 270))):
            Circle(ESQUISSE2_R)
        with Locations(Location((13.895294118, -14.250147059, 0), (0, 0, 270))):
            Circle(ESQUISSE2_R)
        with Locations(Location((16.435294118, -14.250147059, 0), (0, 0, 270))):
            Circle(ESQUISSE2_R)
        with Locations((18.975294118, -14.250147059)):
            Circle(ESQUISSE2_R)
        with Locations((8.815294118, -16.790147059)):
            Circle(ESQUISSE2_R)
        with Locations((11.355294118, -16.790147059)):
            Circle(ESQUISSE2_R)
        with Locations((13.895294118, -16.790147059)):
            Circle(ESQUISSE2_R)
        with Locations((16.435294118, -16.790147059)):
            Circle(ESQUISSE2_R)
        with Locations((18.975294118, -16.790147059)):
            Circle(ESQUISSE2_R)
    extrude(amount=-ENL_V_MAT_EXTRU_1_DEPTH, mode=Mode.SUBTRACT)

    # Dégagement M31 (through all)
    with Locations(Plane(origin=(0, 1.6, 0), x_dir=(1, 0, 0), z_dir=(0, 1, 0))):
        with Locations((13.895294118, -6.630147059), (1.195294118, -6.630147059)):
            Hole(D_GAGEMENT_M31_D / 2)


solid = part.part
